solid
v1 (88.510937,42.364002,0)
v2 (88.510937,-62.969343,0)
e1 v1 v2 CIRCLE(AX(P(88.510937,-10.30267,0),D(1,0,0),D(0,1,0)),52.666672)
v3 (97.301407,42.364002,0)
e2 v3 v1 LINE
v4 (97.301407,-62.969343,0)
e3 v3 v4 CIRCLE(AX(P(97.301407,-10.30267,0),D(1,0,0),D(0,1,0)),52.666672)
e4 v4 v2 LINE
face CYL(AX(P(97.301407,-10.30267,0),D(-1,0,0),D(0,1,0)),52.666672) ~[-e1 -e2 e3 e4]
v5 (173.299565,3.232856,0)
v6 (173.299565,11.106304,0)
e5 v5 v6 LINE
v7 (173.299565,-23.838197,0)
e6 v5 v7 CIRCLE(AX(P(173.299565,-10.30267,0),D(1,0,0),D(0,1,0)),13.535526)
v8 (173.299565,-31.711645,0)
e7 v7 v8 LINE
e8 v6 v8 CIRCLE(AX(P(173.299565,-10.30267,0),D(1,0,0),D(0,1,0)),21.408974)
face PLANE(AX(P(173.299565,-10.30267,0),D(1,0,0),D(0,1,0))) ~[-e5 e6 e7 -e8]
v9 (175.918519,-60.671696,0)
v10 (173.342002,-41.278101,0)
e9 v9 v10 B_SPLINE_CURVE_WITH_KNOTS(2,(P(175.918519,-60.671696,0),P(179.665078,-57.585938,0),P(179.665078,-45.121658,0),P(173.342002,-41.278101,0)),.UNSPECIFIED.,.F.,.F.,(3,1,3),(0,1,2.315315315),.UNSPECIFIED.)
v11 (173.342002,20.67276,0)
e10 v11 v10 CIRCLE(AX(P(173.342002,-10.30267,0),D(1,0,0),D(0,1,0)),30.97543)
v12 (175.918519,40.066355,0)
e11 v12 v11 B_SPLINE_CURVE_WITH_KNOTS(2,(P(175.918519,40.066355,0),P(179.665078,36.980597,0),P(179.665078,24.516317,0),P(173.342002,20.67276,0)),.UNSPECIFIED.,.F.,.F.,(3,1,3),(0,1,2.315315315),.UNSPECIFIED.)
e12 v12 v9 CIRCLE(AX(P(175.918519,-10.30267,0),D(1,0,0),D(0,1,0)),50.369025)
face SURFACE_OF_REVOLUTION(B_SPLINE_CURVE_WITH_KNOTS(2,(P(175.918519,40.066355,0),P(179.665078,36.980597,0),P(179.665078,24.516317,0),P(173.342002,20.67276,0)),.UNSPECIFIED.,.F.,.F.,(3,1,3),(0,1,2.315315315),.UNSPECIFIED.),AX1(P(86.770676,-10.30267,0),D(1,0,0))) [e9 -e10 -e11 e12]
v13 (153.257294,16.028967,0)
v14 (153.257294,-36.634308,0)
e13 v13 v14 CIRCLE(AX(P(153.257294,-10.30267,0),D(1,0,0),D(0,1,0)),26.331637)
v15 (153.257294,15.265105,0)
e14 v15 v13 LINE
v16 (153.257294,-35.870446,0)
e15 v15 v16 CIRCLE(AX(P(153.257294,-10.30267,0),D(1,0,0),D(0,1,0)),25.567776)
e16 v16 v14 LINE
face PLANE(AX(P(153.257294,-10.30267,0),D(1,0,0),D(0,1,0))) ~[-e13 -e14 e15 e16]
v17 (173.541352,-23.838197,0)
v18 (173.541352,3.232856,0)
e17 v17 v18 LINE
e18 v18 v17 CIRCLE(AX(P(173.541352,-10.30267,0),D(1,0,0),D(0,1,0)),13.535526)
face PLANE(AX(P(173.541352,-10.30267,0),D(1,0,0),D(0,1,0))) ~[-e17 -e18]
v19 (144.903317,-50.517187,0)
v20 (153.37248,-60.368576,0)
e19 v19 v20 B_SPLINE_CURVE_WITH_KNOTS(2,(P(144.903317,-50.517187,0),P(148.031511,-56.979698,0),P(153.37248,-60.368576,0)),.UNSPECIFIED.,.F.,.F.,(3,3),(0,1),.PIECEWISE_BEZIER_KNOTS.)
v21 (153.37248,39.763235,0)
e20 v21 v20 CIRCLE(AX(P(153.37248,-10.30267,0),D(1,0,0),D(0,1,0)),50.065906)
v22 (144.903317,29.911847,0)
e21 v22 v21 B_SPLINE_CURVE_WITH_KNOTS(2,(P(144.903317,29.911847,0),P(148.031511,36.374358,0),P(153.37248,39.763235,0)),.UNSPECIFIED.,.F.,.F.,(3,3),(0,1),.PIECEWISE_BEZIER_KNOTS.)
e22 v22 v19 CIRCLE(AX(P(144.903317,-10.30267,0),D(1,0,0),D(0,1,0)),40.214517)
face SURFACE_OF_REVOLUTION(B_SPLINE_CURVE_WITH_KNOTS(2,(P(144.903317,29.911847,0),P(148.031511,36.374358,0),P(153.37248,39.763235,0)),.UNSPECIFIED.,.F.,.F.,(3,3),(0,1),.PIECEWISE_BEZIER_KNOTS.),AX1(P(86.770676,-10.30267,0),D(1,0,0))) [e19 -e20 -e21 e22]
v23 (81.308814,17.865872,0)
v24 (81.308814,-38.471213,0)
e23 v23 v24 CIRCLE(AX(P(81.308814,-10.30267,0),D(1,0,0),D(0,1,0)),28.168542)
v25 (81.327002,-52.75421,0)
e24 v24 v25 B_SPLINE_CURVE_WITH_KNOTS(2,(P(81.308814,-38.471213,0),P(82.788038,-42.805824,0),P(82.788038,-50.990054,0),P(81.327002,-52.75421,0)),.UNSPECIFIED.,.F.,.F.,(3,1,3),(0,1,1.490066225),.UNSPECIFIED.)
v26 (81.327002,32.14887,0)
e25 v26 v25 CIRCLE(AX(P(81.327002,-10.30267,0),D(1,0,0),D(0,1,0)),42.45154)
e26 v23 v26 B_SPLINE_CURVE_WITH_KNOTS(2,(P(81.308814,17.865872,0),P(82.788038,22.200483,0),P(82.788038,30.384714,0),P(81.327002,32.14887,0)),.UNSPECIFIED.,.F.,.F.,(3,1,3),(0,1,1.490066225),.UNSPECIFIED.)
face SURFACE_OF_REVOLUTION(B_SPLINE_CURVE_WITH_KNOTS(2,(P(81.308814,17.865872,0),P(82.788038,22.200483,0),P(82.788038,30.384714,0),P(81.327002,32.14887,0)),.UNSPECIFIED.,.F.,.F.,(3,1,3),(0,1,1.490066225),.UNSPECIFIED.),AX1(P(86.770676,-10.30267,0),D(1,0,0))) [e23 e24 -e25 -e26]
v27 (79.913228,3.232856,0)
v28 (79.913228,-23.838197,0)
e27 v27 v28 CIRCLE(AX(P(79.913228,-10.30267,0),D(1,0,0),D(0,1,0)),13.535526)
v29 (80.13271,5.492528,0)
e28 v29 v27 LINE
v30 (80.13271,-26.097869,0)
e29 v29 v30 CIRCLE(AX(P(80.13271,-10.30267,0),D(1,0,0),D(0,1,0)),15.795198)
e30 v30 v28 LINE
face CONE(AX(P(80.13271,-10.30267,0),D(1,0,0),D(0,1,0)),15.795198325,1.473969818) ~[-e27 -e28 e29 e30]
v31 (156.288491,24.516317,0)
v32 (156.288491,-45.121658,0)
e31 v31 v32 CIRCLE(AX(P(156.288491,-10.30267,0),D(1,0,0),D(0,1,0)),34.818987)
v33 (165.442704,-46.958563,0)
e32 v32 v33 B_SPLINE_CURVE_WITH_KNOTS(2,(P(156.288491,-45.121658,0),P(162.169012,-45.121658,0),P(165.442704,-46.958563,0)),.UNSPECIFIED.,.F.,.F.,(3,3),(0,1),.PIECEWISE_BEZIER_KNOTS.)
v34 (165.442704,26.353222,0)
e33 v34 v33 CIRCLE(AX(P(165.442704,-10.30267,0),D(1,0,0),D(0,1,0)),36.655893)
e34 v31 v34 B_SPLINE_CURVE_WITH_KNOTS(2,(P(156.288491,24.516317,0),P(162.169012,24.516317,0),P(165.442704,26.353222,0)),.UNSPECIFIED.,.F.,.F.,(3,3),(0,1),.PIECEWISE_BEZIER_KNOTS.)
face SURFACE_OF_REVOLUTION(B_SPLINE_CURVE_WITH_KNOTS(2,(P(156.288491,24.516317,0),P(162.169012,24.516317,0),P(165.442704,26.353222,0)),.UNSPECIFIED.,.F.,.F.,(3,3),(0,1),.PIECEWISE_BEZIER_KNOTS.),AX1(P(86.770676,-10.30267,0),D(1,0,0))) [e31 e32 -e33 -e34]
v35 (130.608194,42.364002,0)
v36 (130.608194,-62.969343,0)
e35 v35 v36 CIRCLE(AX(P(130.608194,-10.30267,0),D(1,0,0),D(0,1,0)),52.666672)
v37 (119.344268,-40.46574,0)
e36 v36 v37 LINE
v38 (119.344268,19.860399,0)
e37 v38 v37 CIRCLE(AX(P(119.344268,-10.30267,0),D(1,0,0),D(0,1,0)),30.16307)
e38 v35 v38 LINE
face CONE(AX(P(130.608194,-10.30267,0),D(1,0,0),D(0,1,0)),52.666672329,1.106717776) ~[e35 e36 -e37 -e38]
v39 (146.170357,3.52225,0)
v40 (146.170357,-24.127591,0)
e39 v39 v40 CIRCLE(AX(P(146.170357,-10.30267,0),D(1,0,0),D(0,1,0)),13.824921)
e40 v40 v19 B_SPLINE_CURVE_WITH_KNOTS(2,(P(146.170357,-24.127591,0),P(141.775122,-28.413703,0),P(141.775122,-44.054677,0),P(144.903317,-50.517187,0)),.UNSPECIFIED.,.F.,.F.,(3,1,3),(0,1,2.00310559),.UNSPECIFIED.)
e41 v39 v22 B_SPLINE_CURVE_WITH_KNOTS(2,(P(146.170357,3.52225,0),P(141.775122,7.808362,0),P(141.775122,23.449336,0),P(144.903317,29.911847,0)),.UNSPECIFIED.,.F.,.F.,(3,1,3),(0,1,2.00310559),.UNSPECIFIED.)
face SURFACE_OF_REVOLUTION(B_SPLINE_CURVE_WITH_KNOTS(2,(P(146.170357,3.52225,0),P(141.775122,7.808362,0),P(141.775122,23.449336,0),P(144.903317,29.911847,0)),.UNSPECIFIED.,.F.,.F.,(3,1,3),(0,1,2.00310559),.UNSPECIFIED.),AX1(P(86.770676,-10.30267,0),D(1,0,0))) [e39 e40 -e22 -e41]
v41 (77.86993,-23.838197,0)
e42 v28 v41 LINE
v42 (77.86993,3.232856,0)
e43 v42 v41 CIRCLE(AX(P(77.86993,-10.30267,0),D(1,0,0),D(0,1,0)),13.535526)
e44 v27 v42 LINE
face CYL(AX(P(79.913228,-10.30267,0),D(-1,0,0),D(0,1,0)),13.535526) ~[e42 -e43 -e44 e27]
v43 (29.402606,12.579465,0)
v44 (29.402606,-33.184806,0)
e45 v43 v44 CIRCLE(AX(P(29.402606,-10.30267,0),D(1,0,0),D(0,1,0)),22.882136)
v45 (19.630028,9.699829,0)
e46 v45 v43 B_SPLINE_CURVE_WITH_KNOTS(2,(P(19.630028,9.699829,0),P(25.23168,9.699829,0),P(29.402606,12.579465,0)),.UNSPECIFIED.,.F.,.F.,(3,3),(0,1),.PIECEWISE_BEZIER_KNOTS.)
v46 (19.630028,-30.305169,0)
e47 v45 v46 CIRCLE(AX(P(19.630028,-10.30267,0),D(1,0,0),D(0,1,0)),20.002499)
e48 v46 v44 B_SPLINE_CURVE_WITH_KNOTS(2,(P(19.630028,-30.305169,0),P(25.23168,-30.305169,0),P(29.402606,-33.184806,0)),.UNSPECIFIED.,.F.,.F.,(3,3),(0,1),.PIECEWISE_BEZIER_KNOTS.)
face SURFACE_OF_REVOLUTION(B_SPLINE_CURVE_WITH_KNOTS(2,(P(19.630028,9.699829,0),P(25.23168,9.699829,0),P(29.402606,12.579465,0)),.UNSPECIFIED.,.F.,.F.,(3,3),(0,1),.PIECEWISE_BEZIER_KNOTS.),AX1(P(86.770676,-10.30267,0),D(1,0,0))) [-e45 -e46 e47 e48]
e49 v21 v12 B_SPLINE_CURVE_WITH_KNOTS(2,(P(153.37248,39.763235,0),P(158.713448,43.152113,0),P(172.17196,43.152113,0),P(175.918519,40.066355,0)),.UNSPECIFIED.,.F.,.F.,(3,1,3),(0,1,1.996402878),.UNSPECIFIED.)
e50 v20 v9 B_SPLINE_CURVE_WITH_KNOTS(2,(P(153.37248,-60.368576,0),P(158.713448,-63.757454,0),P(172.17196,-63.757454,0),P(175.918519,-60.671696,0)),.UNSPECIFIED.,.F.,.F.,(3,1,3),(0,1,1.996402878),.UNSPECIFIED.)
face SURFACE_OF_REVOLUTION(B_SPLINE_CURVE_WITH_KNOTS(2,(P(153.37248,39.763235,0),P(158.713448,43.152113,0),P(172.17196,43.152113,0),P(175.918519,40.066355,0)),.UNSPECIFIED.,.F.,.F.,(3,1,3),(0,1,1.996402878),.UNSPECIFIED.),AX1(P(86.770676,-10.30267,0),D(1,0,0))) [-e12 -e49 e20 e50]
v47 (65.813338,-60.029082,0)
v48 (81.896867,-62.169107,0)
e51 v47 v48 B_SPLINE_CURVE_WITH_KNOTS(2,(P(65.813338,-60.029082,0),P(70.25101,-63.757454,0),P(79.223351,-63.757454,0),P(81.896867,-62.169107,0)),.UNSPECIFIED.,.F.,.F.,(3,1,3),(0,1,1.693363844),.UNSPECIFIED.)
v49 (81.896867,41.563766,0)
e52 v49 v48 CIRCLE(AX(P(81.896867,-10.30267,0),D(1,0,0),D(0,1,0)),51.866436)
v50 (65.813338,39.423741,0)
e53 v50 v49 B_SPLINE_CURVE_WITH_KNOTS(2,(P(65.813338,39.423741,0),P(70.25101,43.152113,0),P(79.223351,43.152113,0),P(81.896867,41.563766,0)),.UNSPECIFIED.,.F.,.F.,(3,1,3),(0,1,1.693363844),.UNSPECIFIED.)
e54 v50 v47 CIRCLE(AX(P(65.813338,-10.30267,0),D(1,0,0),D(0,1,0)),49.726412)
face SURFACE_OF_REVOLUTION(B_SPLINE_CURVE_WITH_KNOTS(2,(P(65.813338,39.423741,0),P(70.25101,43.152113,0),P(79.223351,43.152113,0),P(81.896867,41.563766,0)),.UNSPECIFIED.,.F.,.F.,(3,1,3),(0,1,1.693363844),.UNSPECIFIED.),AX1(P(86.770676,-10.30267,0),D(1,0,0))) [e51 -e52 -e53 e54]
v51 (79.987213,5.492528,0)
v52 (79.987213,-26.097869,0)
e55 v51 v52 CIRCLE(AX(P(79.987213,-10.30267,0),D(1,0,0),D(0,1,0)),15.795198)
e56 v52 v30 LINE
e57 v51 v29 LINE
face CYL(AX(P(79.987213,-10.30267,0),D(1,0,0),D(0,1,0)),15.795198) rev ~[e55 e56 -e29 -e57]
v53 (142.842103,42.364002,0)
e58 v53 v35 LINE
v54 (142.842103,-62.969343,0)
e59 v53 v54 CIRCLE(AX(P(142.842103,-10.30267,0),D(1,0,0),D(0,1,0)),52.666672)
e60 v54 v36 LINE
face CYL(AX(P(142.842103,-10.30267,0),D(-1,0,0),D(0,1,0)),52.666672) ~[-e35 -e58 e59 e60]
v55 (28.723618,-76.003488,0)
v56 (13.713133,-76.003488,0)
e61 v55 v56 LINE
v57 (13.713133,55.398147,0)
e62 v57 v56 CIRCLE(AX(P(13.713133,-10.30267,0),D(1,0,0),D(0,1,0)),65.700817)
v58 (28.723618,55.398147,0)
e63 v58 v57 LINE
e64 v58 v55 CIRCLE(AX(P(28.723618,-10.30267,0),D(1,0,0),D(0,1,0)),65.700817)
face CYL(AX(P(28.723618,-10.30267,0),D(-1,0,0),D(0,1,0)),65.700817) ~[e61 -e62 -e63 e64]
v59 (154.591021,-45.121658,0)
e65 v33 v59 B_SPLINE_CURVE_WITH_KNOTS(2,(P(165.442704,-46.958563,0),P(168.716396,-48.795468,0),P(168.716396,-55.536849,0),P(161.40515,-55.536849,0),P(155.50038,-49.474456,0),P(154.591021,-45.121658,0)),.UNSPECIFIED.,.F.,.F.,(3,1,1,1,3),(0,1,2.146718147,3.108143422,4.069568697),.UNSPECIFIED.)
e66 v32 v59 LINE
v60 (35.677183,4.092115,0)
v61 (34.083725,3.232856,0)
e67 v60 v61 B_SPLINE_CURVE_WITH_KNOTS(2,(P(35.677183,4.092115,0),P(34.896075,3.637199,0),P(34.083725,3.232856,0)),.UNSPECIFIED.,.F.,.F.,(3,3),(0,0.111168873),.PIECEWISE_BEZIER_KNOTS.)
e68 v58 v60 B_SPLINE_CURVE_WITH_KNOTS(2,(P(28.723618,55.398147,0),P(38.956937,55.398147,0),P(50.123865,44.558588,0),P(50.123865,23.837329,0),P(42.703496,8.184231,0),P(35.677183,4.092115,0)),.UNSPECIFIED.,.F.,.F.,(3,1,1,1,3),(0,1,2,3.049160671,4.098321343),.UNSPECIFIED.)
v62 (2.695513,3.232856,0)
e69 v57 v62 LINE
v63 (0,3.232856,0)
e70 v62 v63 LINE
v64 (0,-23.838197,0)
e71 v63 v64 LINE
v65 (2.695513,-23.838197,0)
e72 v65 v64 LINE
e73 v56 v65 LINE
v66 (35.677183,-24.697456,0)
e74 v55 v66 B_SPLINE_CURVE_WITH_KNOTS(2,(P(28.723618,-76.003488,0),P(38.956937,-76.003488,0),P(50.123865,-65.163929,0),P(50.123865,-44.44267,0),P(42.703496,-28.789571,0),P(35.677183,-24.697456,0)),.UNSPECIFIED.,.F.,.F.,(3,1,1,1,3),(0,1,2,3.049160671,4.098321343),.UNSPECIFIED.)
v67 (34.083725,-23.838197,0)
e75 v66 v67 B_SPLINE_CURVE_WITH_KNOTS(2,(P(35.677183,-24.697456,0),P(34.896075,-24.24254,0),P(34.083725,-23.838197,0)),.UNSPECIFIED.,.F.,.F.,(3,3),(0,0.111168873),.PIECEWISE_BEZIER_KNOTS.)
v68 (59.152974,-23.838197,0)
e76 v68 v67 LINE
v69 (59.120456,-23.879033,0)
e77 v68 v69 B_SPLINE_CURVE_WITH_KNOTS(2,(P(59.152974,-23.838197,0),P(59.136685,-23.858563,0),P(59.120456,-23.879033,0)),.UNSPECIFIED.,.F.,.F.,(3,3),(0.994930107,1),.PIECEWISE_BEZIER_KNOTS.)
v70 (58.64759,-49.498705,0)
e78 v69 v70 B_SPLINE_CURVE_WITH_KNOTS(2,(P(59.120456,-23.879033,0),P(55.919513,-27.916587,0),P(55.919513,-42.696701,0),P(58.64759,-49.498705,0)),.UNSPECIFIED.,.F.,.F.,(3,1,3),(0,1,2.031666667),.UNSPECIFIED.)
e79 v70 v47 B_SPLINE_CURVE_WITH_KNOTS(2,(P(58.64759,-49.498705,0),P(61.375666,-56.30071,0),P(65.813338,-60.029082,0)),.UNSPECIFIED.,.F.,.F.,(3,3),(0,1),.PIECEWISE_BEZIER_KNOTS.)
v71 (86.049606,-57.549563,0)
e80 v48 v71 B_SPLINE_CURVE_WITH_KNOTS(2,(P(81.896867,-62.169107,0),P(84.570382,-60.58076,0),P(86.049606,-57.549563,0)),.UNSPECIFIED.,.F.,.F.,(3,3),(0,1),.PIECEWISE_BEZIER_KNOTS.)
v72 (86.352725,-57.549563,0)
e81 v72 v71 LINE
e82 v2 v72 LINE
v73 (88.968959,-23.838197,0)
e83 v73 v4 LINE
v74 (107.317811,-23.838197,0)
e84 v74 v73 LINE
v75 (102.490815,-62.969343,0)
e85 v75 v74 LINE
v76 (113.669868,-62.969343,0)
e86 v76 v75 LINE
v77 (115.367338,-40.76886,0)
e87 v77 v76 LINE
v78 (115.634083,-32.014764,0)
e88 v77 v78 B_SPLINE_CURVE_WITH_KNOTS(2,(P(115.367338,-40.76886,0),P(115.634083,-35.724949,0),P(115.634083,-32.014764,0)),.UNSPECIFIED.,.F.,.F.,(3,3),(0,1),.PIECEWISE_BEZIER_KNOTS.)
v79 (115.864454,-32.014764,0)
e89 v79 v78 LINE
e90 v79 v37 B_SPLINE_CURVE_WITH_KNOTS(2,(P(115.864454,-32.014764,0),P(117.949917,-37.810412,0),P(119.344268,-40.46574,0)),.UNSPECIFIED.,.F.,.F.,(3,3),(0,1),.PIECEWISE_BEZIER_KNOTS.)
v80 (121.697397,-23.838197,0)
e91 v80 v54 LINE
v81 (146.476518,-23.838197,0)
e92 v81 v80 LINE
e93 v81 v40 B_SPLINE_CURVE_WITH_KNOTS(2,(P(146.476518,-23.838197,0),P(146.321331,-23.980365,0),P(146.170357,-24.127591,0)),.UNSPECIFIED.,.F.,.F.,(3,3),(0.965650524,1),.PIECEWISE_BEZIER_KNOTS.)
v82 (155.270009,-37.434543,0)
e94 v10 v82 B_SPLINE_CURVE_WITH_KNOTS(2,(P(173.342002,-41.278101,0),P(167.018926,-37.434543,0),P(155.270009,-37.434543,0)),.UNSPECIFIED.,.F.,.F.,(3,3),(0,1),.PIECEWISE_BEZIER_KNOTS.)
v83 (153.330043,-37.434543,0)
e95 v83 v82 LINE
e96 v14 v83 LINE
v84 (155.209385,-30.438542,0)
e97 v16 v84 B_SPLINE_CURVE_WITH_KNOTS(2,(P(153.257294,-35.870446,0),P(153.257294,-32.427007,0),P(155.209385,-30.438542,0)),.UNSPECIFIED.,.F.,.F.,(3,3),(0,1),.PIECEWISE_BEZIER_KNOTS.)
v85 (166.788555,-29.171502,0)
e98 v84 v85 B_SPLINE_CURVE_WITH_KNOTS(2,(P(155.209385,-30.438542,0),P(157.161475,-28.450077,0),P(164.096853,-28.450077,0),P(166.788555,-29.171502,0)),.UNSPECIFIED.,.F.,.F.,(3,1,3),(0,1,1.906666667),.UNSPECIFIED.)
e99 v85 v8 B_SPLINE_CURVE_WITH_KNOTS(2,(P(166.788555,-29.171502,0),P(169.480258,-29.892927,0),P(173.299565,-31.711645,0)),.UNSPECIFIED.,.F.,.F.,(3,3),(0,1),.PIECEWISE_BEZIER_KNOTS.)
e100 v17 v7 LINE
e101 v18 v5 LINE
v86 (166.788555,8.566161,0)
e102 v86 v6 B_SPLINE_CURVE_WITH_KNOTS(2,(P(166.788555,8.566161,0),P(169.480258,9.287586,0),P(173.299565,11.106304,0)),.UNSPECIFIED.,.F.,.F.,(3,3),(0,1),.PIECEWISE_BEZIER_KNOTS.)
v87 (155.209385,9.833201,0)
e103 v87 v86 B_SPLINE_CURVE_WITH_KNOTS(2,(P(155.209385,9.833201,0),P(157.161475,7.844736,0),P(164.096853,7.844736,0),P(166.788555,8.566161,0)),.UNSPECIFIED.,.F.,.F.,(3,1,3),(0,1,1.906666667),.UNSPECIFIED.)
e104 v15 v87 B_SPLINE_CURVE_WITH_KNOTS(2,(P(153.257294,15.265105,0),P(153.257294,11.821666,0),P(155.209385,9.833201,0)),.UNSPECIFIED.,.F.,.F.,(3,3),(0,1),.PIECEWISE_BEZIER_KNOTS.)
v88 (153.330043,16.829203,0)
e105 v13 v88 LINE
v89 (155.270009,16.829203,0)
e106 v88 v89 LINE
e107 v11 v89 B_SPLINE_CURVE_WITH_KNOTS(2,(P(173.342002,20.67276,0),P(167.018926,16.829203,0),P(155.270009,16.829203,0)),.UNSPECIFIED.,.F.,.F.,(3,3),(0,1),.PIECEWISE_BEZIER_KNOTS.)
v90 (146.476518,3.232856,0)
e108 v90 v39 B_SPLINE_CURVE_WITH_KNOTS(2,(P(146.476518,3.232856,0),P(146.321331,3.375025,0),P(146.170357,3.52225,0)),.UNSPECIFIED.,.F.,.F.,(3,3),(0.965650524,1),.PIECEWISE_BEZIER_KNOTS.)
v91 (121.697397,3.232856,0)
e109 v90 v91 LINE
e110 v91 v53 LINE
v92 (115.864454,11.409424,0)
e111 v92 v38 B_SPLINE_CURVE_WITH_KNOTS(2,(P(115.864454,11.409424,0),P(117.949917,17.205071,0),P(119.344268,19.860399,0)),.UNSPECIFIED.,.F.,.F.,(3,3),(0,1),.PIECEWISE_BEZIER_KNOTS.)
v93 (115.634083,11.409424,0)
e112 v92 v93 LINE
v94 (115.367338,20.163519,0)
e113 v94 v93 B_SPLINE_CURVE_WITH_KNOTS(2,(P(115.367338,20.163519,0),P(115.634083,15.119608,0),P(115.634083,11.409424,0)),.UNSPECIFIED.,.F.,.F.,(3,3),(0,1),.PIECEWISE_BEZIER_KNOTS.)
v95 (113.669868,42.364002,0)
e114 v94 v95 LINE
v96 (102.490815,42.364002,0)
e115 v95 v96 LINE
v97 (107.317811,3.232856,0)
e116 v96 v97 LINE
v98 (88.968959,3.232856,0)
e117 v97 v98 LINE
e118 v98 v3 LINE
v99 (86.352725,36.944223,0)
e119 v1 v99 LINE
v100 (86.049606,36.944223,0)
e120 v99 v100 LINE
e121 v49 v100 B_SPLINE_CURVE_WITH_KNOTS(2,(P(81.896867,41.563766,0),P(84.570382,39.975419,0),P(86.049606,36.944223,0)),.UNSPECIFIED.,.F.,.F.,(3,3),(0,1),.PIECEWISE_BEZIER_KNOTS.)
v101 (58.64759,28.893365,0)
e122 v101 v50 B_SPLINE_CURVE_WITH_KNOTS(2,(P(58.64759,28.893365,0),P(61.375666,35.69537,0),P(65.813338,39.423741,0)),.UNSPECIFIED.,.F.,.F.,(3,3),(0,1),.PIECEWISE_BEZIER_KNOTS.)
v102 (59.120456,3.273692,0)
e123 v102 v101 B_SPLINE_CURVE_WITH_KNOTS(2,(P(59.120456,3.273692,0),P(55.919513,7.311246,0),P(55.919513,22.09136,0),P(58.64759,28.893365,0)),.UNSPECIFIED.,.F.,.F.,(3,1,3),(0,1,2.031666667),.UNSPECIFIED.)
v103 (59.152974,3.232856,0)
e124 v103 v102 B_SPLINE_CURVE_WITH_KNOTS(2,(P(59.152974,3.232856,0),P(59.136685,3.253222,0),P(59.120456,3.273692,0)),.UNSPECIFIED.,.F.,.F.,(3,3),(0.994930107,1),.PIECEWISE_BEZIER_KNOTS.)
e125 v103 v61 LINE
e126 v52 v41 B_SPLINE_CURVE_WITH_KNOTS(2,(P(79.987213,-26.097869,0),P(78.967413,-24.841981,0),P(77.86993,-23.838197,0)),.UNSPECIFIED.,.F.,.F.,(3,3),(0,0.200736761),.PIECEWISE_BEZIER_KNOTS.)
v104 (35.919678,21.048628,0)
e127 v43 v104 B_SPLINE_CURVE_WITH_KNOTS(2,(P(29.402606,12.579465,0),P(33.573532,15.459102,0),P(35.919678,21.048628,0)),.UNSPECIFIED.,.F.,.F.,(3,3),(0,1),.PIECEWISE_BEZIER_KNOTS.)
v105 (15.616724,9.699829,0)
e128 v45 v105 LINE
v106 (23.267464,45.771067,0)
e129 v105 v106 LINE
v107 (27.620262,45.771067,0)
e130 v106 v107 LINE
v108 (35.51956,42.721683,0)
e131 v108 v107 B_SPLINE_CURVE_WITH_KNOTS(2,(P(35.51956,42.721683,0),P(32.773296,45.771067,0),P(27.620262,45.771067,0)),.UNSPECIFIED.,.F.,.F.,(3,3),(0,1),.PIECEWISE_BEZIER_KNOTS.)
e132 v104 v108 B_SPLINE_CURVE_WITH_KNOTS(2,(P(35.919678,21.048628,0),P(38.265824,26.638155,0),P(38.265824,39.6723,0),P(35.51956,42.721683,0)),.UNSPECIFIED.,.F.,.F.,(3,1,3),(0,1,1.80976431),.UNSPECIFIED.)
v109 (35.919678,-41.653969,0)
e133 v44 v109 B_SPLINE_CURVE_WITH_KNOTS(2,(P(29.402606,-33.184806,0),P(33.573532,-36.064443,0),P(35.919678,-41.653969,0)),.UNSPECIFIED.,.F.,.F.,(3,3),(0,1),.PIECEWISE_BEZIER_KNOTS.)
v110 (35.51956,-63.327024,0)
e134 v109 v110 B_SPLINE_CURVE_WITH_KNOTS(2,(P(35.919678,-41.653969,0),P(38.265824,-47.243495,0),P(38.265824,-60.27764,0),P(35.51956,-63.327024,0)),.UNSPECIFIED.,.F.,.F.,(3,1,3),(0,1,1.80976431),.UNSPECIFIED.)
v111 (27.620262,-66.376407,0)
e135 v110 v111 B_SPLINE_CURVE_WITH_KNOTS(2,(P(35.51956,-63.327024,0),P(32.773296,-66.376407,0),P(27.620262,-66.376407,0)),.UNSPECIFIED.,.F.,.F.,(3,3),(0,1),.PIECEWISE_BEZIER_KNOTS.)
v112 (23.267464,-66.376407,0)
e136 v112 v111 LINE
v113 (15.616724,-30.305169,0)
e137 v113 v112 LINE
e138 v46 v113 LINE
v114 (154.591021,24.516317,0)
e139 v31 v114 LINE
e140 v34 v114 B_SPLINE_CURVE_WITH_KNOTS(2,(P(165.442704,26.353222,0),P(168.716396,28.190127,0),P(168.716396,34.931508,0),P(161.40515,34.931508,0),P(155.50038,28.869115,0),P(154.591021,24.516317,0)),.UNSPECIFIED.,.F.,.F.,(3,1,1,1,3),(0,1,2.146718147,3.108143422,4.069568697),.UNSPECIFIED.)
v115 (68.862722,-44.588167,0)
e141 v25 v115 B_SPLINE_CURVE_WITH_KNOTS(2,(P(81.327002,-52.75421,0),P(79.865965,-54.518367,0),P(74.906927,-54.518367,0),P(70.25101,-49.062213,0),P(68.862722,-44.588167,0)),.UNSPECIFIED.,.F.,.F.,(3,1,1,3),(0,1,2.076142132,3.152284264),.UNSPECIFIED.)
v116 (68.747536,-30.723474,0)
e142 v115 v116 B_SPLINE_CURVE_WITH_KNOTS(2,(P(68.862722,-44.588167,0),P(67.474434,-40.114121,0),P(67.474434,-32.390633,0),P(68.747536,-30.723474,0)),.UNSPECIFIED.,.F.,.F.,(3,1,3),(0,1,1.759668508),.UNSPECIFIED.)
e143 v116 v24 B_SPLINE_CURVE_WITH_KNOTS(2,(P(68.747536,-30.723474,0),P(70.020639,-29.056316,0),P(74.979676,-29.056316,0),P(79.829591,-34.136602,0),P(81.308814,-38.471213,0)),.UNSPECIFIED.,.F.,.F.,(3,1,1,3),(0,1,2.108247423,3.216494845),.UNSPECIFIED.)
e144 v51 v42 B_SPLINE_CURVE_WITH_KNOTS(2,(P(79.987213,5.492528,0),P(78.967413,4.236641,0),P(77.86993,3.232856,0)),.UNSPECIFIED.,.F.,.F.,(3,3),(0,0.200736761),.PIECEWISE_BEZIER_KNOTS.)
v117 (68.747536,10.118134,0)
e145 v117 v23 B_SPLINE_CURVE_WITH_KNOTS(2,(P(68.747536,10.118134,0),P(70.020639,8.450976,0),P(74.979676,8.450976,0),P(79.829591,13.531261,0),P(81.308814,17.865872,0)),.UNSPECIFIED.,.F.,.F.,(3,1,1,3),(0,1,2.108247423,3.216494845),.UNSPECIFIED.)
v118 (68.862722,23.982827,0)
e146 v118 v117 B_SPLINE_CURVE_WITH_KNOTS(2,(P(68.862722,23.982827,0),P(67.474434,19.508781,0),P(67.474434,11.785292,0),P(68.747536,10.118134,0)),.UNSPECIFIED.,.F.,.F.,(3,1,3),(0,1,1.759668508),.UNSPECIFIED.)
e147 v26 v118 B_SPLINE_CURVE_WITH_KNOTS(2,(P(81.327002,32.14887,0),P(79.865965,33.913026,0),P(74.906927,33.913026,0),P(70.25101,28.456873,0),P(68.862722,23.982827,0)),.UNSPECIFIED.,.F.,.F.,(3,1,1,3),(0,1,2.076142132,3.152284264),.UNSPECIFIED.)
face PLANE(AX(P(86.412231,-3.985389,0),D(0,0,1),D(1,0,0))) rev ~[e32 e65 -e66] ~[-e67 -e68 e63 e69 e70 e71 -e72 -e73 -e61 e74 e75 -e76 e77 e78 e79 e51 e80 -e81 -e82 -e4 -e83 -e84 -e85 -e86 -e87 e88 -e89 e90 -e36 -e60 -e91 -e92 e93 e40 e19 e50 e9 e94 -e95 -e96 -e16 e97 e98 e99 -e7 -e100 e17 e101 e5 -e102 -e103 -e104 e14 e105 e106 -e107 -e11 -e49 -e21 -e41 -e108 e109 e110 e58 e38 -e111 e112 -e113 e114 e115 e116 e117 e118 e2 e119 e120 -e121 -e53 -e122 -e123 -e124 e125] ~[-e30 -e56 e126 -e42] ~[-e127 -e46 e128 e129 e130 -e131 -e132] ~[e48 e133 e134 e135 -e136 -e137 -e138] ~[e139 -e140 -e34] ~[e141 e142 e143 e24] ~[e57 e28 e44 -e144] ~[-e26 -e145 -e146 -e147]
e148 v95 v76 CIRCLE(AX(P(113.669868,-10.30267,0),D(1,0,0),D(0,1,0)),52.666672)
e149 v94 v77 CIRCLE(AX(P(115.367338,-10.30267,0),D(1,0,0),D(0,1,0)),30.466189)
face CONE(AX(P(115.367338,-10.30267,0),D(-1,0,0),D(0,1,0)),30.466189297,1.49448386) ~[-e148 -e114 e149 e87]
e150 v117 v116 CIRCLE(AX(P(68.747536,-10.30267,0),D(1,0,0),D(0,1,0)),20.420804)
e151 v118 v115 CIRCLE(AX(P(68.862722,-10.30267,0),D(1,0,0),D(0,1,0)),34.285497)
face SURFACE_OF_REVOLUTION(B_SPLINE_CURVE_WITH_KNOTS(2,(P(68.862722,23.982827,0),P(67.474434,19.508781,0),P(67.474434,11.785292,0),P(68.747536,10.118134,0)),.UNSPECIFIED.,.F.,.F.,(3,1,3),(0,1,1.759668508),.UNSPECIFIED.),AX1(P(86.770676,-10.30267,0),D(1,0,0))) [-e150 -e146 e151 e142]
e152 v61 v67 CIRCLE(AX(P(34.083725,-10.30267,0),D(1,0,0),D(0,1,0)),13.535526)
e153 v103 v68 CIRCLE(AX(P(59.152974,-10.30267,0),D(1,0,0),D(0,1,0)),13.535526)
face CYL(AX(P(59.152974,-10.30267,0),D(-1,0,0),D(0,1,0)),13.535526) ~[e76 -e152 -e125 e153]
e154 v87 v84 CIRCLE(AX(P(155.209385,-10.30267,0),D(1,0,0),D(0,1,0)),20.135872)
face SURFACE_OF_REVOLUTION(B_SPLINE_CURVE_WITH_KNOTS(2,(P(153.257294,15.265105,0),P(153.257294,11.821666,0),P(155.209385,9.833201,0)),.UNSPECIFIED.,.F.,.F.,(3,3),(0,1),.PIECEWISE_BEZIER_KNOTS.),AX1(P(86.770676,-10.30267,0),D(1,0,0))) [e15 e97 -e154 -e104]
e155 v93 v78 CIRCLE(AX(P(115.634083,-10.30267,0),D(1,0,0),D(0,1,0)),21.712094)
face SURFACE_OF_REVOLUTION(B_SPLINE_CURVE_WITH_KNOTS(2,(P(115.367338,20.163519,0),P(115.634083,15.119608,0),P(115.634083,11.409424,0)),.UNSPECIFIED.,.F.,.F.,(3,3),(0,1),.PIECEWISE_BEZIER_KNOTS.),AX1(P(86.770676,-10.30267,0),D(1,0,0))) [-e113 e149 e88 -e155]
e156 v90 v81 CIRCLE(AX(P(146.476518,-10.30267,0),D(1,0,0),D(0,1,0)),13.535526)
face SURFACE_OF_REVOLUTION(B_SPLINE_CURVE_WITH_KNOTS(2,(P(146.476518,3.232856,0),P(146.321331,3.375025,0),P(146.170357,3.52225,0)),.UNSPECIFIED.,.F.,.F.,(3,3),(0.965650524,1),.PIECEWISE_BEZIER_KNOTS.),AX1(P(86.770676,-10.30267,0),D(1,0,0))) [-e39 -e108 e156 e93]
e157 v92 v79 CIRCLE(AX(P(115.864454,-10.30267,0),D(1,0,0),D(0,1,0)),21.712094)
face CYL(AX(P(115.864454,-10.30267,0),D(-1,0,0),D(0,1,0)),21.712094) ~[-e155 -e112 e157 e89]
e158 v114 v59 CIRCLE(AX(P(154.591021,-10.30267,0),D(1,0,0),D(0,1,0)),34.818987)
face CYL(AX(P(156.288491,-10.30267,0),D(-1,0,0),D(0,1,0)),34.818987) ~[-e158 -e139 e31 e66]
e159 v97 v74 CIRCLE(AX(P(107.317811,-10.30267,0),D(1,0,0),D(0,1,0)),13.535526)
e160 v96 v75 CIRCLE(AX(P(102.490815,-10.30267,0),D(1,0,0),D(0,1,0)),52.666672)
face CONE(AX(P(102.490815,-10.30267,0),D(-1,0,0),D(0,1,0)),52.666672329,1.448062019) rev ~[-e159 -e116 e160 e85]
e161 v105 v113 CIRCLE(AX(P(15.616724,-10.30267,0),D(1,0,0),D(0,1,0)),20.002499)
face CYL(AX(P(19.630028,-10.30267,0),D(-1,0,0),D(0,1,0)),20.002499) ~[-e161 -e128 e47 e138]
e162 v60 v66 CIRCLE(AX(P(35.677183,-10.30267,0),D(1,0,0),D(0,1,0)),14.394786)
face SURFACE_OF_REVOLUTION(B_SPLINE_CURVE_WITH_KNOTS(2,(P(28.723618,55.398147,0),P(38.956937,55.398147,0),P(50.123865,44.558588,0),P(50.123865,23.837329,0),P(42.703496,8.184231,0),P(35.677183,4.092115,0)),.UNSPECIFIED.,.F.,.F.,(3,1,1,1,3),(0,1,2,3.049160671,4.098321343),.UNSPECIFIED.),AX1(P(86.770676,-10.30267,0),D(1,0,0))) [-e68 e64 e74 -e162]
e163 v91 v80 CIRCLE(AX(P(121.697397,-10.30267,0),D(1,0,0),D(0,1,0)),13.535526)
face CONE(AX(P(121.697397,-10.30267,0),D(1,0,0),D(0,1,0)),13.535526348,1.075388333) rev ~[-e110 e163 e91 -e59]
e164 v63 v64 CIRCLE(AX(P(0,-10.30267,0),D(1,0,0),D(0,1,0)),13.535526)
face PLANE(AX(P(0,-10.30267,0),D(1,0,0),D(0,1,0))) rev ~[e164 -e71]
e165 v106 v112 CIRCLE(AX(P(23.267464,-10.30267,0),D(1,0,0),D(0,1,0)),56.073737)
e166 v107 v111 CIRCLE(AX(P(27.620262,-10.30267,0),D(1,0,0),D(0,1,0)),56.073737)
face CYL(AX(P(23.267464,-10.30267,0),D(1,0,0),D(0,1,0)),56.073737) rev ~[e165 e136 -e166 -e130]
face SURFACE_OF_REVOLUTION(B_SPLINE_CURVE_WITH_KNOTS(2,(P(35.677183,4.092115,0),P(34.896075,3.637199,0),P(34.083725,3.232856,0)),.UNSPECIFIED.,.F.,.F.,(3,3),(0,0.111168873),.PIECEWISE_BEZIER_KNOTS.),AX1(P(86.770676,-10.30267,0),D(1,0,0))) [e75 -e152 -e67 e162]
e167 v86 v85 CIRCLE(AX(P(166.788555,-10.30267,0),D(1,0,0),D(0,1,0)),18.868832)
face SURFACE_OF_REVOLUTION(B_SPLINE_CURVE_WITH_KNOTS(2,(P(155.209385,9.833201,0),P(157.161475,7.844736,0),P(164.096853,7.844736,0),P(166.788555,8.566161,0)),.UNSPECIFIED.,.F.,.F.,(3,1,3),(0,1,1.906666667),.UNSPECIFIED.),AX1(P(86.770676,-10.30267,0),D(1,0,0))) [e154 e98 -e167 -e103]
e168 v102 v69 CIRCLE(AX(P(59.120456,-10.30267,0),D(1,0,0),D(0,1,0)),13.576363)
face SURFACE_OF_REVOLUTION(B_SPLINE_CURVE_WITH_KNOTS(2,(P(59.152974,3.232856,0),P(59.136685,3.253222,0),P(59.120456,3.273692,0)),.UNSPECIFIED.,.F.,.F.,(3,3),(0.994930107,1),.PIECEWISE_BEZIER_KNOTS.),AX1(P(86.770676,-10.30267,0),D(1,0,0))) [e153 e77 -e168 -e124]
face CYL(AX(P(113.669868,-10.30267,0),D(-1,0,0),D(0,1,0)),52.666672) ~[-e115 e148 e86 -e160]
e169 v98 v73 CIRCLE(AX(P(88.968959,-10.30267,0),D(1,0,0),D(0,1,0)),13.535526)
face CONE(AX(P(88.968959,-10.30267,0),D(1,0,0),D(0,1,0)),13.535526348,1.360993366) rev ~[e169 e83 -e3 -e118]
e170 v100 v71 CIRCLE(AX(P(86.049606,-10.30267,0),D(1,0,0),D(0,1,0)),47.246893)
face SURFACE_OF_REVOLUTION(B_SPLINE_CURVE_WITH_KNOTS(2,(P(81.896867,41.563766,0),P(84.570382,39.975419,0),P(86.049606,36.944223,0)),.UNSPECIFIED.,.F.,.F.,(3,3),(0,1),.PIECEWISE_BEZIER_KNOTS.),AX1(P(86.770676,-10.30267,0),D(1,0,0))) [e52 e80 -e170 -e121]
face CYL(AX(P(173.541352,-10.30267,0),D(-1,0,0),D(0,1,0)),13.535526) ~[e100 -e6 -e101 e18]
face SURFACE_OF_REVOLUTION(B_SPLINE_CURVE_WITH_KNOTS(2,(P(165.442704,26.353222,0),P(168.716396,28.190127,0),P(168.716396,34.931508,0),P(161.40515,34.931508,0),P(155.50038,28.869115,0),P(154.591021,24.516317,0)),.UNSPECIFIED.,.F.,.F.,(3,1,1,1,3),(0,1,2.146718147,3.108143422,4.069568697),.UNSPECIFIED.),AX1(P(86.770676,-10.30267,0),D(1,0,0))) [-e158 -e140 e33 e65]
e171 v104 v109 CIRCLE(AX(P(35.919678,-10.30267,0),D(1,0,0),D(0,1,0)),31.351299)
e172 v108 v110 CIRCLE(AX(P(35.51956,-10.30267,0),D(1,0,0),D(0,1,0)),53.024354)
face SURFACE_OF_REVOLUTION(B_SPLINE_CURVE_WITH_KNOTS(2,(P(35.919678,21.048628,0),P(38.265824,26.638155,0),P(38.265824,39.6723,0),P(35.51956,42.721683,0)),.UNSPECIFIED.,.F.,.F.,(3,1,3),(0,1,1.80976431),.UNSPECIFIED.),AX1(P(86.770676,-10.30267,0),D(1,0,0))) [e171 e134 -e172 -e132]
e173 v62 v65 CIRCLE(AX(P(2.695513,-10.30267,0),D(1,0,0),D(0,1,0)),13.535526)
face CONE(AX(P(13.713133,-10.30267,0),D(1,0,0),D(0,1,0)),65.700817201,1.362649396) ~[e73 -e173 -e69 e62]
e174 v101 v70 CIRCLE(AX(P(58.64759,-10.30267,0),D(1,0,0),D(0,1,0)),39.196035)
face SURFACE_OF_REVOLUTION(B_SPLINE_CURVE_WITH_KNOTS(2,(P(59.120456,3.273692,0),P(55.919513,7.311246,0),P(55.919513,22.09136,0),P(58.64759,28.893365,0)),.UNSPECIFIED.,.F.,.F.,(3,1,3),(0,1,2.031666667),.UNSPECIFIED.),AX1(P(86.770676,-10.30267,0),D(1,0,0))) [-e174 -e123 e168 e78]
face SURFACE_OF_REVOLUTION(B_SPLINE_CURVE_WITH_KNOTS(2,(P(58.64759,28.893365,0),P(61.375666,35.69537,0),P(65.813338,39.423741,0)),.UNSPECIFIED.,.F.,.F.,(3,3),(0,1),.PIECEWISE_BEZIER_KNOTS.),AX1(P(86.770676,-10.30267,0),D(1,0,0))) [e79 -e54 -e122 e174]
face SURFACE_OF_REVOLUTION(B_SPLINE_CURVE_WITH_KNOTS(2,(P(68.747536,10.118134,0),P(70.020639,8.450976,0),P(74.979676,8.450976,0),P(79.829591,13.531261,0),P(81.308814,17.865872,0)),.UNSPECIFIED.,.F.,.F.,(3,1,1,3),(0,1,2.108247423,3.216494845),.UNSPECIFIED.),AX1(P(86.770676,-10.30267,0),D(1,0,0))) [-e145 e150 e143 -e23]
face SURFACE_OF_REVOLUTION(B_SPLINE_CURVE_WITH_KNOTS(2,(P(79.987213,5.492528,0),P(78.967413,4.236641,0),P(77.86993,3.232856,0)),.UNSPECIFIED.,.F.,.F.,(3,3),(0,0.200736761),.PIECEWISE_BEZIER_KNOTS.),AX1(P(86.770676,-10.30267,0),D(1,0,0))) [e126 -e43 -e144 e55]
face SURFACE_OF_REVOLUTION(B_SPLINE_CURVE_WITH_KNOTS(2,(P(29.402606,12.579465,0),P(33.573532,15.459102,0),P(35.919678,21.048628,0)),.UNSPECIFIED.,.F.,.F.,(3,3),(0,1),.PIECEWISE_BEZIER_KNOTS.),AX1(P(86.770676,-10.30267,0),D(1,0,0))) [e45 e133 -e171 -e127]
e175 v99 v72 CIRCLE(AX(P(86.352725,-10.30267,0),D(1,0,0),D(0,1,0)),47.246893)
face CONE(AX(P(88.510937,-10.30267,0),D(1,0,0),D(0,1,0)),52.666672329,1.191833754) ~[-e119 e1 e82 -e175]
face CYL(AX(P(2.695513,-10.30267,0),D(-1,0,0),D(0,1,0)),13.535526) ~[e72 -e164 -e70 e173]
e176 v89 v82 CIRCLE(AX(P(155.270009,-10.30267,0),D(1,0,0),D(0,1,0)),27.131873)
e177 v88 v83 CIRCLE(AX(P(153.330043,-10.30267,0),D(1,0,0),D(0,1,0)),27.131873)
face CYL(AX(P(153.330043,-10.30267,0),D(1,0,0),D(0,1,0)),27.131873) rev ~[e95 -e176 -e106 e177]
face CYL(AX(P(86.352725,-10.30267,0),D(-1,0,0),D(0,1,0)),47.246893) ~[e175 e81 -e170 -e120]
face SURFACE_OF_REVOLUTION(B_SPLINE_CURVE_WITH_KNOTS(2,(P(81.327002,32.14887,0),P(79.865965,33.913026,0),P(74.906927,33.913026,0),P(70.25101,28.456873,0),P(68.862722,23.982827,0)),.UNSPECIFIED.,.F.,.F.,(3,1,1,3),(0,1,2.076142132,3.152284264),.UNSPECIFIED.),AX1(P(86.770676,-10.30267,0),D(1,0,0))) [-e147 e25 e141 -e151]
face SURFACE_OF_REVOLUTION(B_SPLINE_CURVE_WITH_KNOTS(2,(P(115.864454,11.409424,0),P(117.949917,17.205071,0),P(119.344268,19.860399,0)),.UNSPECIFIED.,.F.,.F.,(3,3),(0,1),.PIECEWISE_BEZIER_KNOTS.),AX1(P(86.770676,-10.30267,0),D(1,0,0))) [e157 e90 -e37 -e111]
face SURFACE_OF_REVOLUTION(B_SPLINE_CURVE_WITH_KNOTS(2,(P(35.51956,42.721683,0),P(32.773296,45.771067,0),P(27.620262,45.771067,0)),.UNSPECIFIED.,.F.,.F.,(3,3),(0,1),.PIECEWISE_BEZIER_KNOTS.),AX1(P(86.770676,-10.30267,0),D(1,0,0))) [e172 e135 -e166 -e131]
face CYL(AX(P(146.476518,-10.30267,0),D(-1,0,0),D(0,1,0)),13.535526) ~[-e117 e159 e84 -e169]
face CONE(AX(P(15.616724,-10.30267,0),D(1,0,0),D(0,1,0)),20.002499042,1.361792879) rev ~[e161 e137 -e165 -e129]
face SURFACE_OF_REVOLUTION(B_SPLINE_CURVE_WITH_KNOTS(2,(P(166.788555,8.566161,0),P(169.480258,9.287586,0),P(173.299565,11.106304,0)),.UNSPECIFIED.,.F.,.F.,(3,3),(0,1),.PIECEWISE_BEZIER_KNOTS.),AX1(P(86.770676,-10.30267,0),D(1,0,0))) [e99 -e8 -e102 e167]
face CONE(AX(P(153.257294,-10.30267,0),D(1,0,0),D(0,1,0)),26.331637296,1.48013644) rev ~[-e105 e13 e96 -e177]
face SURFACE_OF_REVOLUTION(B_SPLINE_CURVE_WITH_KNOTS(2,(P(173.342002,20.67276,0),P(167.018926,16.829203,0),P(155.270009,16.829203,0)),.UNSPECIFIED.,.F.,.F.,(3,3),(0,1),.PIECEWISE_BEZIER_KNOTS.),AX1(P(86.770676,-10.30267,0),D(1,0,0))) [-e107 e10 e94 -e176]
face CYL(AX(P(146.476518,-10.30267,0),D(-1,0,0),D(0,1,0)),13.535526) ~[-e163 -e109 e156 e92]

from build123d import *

# Parameters (mm, degrees)
F1_ANGLE = 180


with BuildPart() as f1:
    # F0 (on Top) → F1 (revolve)
    with BuildSketch(Plane.XY):
        with BuildLine():
            Line((0, 3.2328560483), (0, -10.3026703))
            Line((0, -10.3026703), (173.5413521528, -10.3026703))
            Line((173.5413521528, -10.3026703), (173.5413521528, 3.2328560483))
            Line((173.5413521528, 3.2328560483), (173.2995652556, 3.2328560483))
            Line((173.2995652556, 3.2328560483), (173.2995652556, 2.497705901))
            add(Edge.make_bspline(
                [(173.2995652556, 2.497705901), (166.7885552128, -0.7638615134), (158.5315759965, -0.7638615134)],
                knots=[0, 0, 0, 1, 1, 1], degree=2))
            add(Edge.make_bspline(
                [(158.5315759965, -0.7638615134), (150.8392190293, -0.7638615134), (146.4765178526, 3.2328560483)],
                knots=[0, 0, 0, 0.9656505242, 0.9656505242, 0.9656505242], degree=2))
            Line((146.4765178526, 3.2328560483), (121.6973967641, 3.2328560483))
            Line((121.6973967641, 3.2328560483), (119.9505071765, 0))
            Line((119.9505071765, 0), (107.7165981761, 0))
            Line((107.7165981761, 0), (107.3178114111, 3.2328560483))
            Line((107.3178114111, 3.2328560483), (88.9689592657, 3.2328560483))
            Line((88.9689592657, 3.2328560483), (88.280566335, 0))
            Line((88.280566335, 0), (79.5992196112, 0))
            Line((79.5992196112, 0), (79.9132277042, 3.2328560483))
            Line((79.9132277042, 3.2328560483), (77.8699299026, 3.2328560483))
            add(Edge.make_bspline(
                [(77.8699299026, 3.2328560483), (73.5001388924, -0.7638615134), (67.8988011916, -0.7638615134)],
                knots=[0.2007367607, 0.2007367607, 0.2007367607, 1, 1, 1], degree=2))
            add(Edge.make_bspline(
                [(67.8988011916, -0.7638615134), (62.3496764955, -0.7638615134), (59.1529741479, 3.2328560483)],
                knots=[0, 0, 0, 0.9949301068, 0.9949301068, 0.9949301068], degree=2))
            Line((59.1529741479, 3.2328560483), (34.0837253367, 3.2328560483))
            add(Edge.make_bspline(
                [(34.0837253367, 3.2328560483), (27.5887248986, 0), (19.0965378351, 0)],
                knots=[0.1111688733, 0.1111688733, 0.1111688733, 1, 1, 1], degree=2))
            Line((19.0965378351, 0), (2.0127144639, 0))
            Line((2.0127144639, 0), (2.695512907, 3.2328560483))
            Line((2.695512907, 3.2328560483), (0, 3.2328560483))
        make_face()
        with BuildLine():
            Line((13.7131328835, 55.3981469008), (2.695512907, 3.2328560483))
            Line((2.695512907, 3.2328560483), (34.0837253367, 3.2328560483))
            add(Edge.make_bspline(
                [(35.6771825904, 4.0921152504), (34.8960752412, 3.6371994085), (34.0837253367, 3.2328560483)],
                knots=[0, 0, 0, 0.1111688733, 0.1111688733, 0.1111688733], degree=2))
            add(Edge.make_bspline(
                [(46.4136805288, 16.0107798167), (42.7034960351, 8.1842305008), (35.6771825904, 4.0921152504)],
                knots=[0, 0, 0, 1, 1, 1], degree=2))
            add(Edge.make_bspline(
                [(50.1238650225, 34.4465168188), (50.1238650225, 23.8373291326), (46.4136805288, 16.0107798167)],
                knots=[0, 0, 0, 1, 1, 1], degree=2))
            add(Edge.make_bspline(
                [(44.5404011031, 49.9783675914), (50.1238650225, 44.558588282), (50.1238650225, 34.4465168188)],
                knots=[0, 0, 0, 1, 1, 1], degree=2))
            add(Edge.make_bspline(
                [(28.7236178612, 55.3981469008), (38.9569371837, 55.3981469008), (44.5404011031, 49.9783675914)],
                knots=[0, 0, 0, 1, 1, 1], degree=2))
            Line((28.7236178612, 55.3981469008), (13.7131328835, 55.3981469008))
        make_face()
        with BuildLine():
            add(Edge.make_bspline(
                [(19.6300284159, 9.6998287417), (25.2316795142, 9.6998287417), (29.4026058732, 12.5794653993)],
                knots=[0, 0, 0, 1, 1, 1], degree=2))
            Line((19.6300284159, 9.6998287417), (15.6167242741, 9.6998287417))
            Line((15.6167242741, 9.6998287417), (23.2674641941, 45.7710668747))
            Line((23.2674641941, 45.7710668747), (27.6202623419, 45.7710668747))
            add(Edge.make_bspline(
                [(35.5195603734, 42.721683214), (32.7732963609, 45.7710668747), (27.6202623419, 45.7710668747)],
                knots=[0, 0, 0, 1, 1, 1], degree=2))
            add(Edge.make_bspline(
                [(38.2658243858, 33.8402775225), (38.2658243858, 39.6722995534), (35.5195603734, 42.721683214)],
                knots=[0, 0, 0, 1, 1, 1], degree=2))
            add(Edge.make_bspline(
                [(35.919678309, 21.0486283694), (38.2658243858, 26.6381546818), (38.2658243858, 33.8402775225)],
                knots=[0, 0, 0, 1, 1, 1], degree=2))
            add(Edge.make_bspline(
                [(29.4026058732, 12.5794653993), (33.5735322321, 15.459102057), (35.919678309, 21.0486283694)],
                knots=[0, 0, 0, 1, 1, 1], degree=2))
        make_face(mode=Mode.SUBTRACT)
        with BuildLine():
            Line((34.0837253367, 3.2328560483), (2.695512907, 3.2328560483))
            Line((2.695512907, 3.2328560483), (2.0127144639, 0))
            Line((2.0127144639, 0), (19.0965378351, 0))
            add(Edge.make_bspline(
                [(34.0837253367, 3.2328560483), (27.5887248986, 0), (19.0965378351, 0)],
                knots=[0.1111688733, 0.1111688733, 0.1111688733, 1, 1, 1], degree=2))
        make_face()
        with BuildLine():
            Line((173.2995652556, 2.497705901), (173.2995652556, 3.2328560483))
            Line((173.2995652556, 3.2328560483), (146.4765178526, 3.2328560483))
            add(Edge.make_bspline(
                [(158.5315759965, -0.7638615134), (150.8392190293, -0.7638615134), (146.4765178526, 3.2328560483)],
                knots=[0, 0, 0, 0.9656505242, 0.9656505242, 0.9656505242], degree=2))
            add(Edge.make_bspline(
                [(173.2995652556, 2.497705901), (166.7885552128, -0.7638615134), (158.5315759965, -0.7638615134)],
                knots=[0, 0, 0, 1, 1, 1], degree=2))
        make_face()
        with BuildLine():
            Line((146.4765178526, 3.2328560483), (173.2995652556, 3.2328560483))
            Line((173.2995652556, 3.2328560483), (173.2995652556, 11.1063039092))
            add(Edge.make_bspline(
                [(166.7885552128, 8.5661612575), (169.4802576886, 9.2875860201), (173.2995652556, 11.1063039092)],
                knots=[0, 0, 0, 1, 1, 1], degree=2))
            add(Edge.make_bspline(
                [(160.7989109648, 7.8447364948), (164.096852737, 7.8447364948), (166.7885552128, 8.5661612575)],
                knots=[0, 0, 0, 1, 1, 1], degree=2))
            add(Edge.make_bspline(
                [(155.2093846525, 9.8332013869), (157.1614751867, 7.8447364948), (160.7989109648, 7.8447364948)],
                knots=[0, 0, 0, 1, 1, 1], degree=2))
            add(Edge.make_bspline(
                [(153.2572941182, 15.2651054822), (153.2572941182, 11.8216662789), (155.2093846525, 9.8332013869)],
                knots=[0, 0, 0, 1, 1, 1], degree=2))
            Line((153.2572941182, 15.2651054822), (153.2572941182, 16.0289669956))
            Line((153.2572941182, 16.0289669956), (153.3300428338, 16.8292028668))
            Line((153.3300428338, 16.8292028668), (155.2700085821, 16.8292028668))
            add(Edge.make_bspline(
                [(173.3420020064, 20.6727600057), (167.0189261454, 16.8292028668), (155.2700085821, 16.8292028668)],
                knots=[0, 0, 0, 1, 1, 1], degree=2))
            add(Edge.make_bspline(
                [(179.6650778674, 31.597192126), (179.6650778674, 24.5163171445), (173.3420020064, 20.6727600057)],
                knots=[0, 0, 0, 1, 1, 1], degree=2))
            add(Edge.make_bspline(
                [(175.9185190159, 40.066355096), (179.6650778674, 36.9805970776), (179.6650778674, 31.597192126)],
                knots=[0, 0, 0, 1, 1, 1], degree=2))
            add(Edge.make_bspline(
                [(165.4548287608, 43.1521131145), (172.1719601644, 43.1521131145), (175.9185190159, 40.066355096)],
                knots=[0, 0, 0, 1, 1, 1], degree=2))
            add(Edge.make_bspline(
                [(153.3724795845, 39.7632354478), (158.7134477854, 43.1521131145), (165.4548287608, 43.1521131145)],
                knots=[0, 0, 0, 1, 1, 1], degree=2))
            add(Edge.make_bspline(
                [(144.9033166144, 29.9118468821), (148.0315113836, 36.3743577812), (153.3724795845, 39.7632354478)],
                knots=[0, 0, 0, 1, 1, 1], degree=2))
            add(Edge.make_bspline(
                [(141.7751218453, 15.6167242741), (141.7751218453, 23.449335983), (144.9033166144, 29.9118468821)],
                knots=[0, 0, 0, 1, 1, 1], degree=2))
            add(Edge.make_bspline(
                [(146.1703567438, 3.5222503118), (141.7751218453, 7.808362137), (141.7751218453, 15.6167242741)],
                knots=[0, 0, 0, 1, 1, 1], degree=2))
            add(Edge.make_bspline(
                [(146.4765178526, 3.2328560483), (146.3213307587, 3.3750246173), (146.1703567438, 3.5222503118)],
                knots=[0.9656505242, 0.9656505242, 0.9656505242, 1, 1, 1], degree=2))
        make_face()
        with BuildLine():
            add(Edge.make_bspline(
                [(164.7394663911, 34.9315082559), (161.4051502612, 34.9315082559), (158.4527648879, 31.9003117741)],
                knots=[0, 0, 0, 1, 1, 1], degree=2))
            add(Edge.make_bspline(
                [(168.7163961752, 31.3304468356), (168.7163961752, 34.9315082559), (164.7394663911, 34.9315082559)],
                knots=[0, 0, 0, 1, 1, 1], degree=2))
            add(Edge.make_bspline(
                [(165.4427039749, 26.3532222125), (168.7163961752, 28.1901272804), (168.7163961752, 31.3304468356)],
                knots=[0, 0, 0, 1, 1, 1], degree=2))
            add(Edge.make_bspline(
                [(156.2884906, 24.5163171445), (162.1690117746, 24.5163171445), (165.4427039749, 26.3532222125)],
                knots=[0, 0, 0, 1, 1, 1], degree=2))
            Line((156.2884906, 24.5163171445), (154.5910205702, 24.5163171445))
            add(Edge.make_bspline(
                [(158.4527648879, 31.9003117741), (155.5003795147, 28.8691152924), (154.5910205702, 24.5163171445)],
                knots=[0, 0, 0, 1, 1, 1], degree=2))
        make_face(mode=Mode.SUBTRACT)
        with BuildLine():
            add(Edge.make_bspline(
                [(59.1529741479, 3.2328560483), (59.1366846222, 3.253222234), (59.1204561804, 3.2736922003)],
                knots=[0.9949301068, 0.9949301068, 0.9949301068, 1, 1, 1], degree=2))
            Line((59.1529741479, 3.2328560483), (77.8699299026, 3.2328560483))
            add(Edge.make_bspline(
                [(79.9872127609, 5.492528025), (78.9674127457, 4.2366406554), (77.8699299026, 3.2328560483)],
                knots=[0, 0, 0, 0.2007367607, 0.2007367607, 0.2007367607], degree=2))
            Line((79.9872127609, 5.492528025), (80.132710192, 5.492528025))
            Line((80.132710192, 5.492528025), (79.9132277042, 3.2328560483))
            Line((79.9132277042, 3.2328560483), (88.9689592657, 3.2328560483))
            Line((88.9689592657, 3.2328560483), (97.3014070648, 42.3640020292))
            Line((97.3014070648, 42.3640020292), (88.5109372676, 42.3640020292))
            Line((88.5109372676, 42.3640020292), (86.3527253726, 36.9442227198))
            Line((86.3527253726, 36.9442227198), (86.0496057244, 36.9442227198))
            add(Edge.make_bspline(
                [(81.8968665444, 41.563766158), (84.5703818413, 39.9754192016), (86.0496057244, 36.9442227198)],
                knots=[0, 0, 0, 1, 1, 1], degree=2))
            add(Edge.make_bspline(
                [(75.5495411116, 43.1521131145), (79.2233512475, 43.1521131145), (81.8968665444, 41.563766158)],
                knots=[0, 0, 0, 1, 1, 1], degree=2))
            add(Edge.make_bspline(
                [(65.8133380121, 39.4237414419), (70.2510096615, 43.1521131145), (75.5495411116, 43.1521131145)],
                knots=[0, 0, 0, 1, 1, 1], degree=2))
            add(Edge.make_bspline(
                [(58.6475895293, 28.8933648642), (61.3756663628, 35.6953697693), (65.8133380121, 39.4237414419)],
                knots=[0, 0, 0, 1, 1, 1], degree=2))
            add(Edge.make_bspline(
                [(55.9195126957, 14.5861174703), (55.9195126957, 22.0913599591), (58.6475895293, 28.8933648642)],
                knots=[0, 0, 0, 1, 1, 1], degree=2))
            add(Edge.make_bspline(
                [(59.1204561804, 3.2736922003), (55.9195126957, 7.311245914), (55.9195126957, 14.5861174703)],
                knots=[0, 0, 0, 1, 1, 1], degree=2))
        make_face()
        with BuildLine():
            add(Edge.make_bspline(
                [(72.3728471987, 8.4509757912), (74.979676173, 8.4509757912), (77.4046333584, 10.9911184429)],
                knots=[0, 0, 0, 1, 1, 1], degree=2))
            add(Edge.make_bspline(
                [(68.7475362065, 10.1181338561), (70.0206387288, 8.4509757912), (72.3728471987, 8.4509757912)],
                knots=[0, 0, 0, 1, 1, 1], degree=2))
            add(Edge.make_bspline(
                [(67.4744336842, 15.1196080511), (67.4744336842, 11.7852919211), (68.7475362065, 10.1181338561)],
                knots=[0, 0, 0, 1, 1, 1], degree=2))
            add(Edge.make_bspline(
                [(68.8627216728, 23.9828265637), (67.4744336842, 19.5087805567), (67.4744336842, 15.1196080511)],
                knots=[0, 0, 0, 1, 1, 1], degree=2))
            add(Edge.make_bspline(
                [(72.5789685595, 31.1849494044), (70.2510096615, 28.4568725708), (68.8627216728, 23.9828265637)],
                knots=[0, 0, 0, 1, 1, 1], degree=2))
            add(Edge.make_bspline(
                [(77.477382074, 33.913026238), (74.9069274575, 33.913026238), (72.5789685595, 31.1849494044)],
                knots=[0, 0, 0, 1, 1, 1], degree=2))
            add(Edge.make_bspline(
                [(81.3270016058, 32.1488698856), (79.8659649016, 33.913026238), (77.477382074, 33.913026238)],
                knots=[0, 0, 0, 1, 1, 1], degree=2))
            add(Edge.make_bspline(
                [(82.7880383101, 27.6930110574), (82.7880383101, 30.3847135332), (81.3270016058, 32.1488698856)],
                knots=[0, 0, 0, 1, 1, 1], degree=2))
            add(Edge.make_bspline(
                [(81.3088144269, 17.8658720635), (82.7880383101, 22.2004830325), (82.7880383101, 27.6930110574)],
                knots=[0, 0, 0, 1, 1, 1], degree=2))
            add(Edge.make_bspline(
                [(77.4046333584, 10.9911184429), (79.8295905438, 13.5312610946), (81.3088144269, 17.8658720635)],
                knots=[0, 0, 0, 1, 1, 1], degree=2))
        make_face(mode=Mode.SUBTRACT)
        with BuildLine():
            Line((77.8699299026, 3.2328560483), (59.1529741479, 3.2328560483))
            add(Edge.make_bspline(
                [(67.8988011916, -0.7638615134), (62.3496764955, -0.7638615134), (59.1529741479, 3.2328560483)],
                knots=[0, 0, 0, 0.9949301068, 0.9949301068, 0.9949301068], degree=2))
            add(Edge.make_bspline(
                [(77.8699299026, 3.2328560483), (73.5001388924, -0.7638615134), (67.8988011916, -0.7638615134)],
                knots=[0.2007367607, 0.2007367607, 0.2007367607, 1, 1, 1], degree=2))
        make_face()
        Polygon((119.9505071765, 0), (121.6973967641, 3.2328560483), (107.3178114111, 3.2328560483), (107.7165981761, 0), align=None)
        with BuildLine():
            Line((107.3178114111, 3.2328560483), (121.6973967641, 3.2328560483))
            Line((121.6973967641, 3.2328560483), (142.8421030068, 42.3640020292))
            Line((142.8421030068, 42.3640020292), (130.6081940064, 42.3640020292))
            Line((130.6081940064, 42.3640020292), (119.3442678802, 19.8603993485))
            add(Edge.make_bspline(
                [(115.8644543191, 11.4094235574), (117.9499174986, 17.2050712305), (119.3442678802, 19.8603993485)],
                knots=[0, 0, 0, 1, 1, 1], degree=2))
            Line((115.8644543191, 11.4094235574), (115.6340833865, 11.4094235574))
            add(Edge.make_bspline(
                [(115.3673380961, 20.1635189967), (115.6340833865, 15.1196080511), (115.6340833865, 11.4094235574)],
                knots=[0, 0, 0, 1, 1, 1], degree=2))
            Line((115.3673380961, 20.1635189967), (113.6698680663, 42.3640020292))
            Line((113.6698680663, 42.3640020292), (102.4908154415, 42.3640020292))
            Line((102.4908154415, 42.3640020292), (107.3178114111, 3.2328560483))
        make_face()
        Polygon((88.9689592657, 3.2328560483), (79.9132277042, 3.2328560483), (79.5992196112, 0), (88.280566335, 0), align=None)
    revolve(axis=Axis((86.7706760764, -10.3026703, 0), (1, 0, 0)), revolution_arc=F1_ANGLE)


solid = f1.part
